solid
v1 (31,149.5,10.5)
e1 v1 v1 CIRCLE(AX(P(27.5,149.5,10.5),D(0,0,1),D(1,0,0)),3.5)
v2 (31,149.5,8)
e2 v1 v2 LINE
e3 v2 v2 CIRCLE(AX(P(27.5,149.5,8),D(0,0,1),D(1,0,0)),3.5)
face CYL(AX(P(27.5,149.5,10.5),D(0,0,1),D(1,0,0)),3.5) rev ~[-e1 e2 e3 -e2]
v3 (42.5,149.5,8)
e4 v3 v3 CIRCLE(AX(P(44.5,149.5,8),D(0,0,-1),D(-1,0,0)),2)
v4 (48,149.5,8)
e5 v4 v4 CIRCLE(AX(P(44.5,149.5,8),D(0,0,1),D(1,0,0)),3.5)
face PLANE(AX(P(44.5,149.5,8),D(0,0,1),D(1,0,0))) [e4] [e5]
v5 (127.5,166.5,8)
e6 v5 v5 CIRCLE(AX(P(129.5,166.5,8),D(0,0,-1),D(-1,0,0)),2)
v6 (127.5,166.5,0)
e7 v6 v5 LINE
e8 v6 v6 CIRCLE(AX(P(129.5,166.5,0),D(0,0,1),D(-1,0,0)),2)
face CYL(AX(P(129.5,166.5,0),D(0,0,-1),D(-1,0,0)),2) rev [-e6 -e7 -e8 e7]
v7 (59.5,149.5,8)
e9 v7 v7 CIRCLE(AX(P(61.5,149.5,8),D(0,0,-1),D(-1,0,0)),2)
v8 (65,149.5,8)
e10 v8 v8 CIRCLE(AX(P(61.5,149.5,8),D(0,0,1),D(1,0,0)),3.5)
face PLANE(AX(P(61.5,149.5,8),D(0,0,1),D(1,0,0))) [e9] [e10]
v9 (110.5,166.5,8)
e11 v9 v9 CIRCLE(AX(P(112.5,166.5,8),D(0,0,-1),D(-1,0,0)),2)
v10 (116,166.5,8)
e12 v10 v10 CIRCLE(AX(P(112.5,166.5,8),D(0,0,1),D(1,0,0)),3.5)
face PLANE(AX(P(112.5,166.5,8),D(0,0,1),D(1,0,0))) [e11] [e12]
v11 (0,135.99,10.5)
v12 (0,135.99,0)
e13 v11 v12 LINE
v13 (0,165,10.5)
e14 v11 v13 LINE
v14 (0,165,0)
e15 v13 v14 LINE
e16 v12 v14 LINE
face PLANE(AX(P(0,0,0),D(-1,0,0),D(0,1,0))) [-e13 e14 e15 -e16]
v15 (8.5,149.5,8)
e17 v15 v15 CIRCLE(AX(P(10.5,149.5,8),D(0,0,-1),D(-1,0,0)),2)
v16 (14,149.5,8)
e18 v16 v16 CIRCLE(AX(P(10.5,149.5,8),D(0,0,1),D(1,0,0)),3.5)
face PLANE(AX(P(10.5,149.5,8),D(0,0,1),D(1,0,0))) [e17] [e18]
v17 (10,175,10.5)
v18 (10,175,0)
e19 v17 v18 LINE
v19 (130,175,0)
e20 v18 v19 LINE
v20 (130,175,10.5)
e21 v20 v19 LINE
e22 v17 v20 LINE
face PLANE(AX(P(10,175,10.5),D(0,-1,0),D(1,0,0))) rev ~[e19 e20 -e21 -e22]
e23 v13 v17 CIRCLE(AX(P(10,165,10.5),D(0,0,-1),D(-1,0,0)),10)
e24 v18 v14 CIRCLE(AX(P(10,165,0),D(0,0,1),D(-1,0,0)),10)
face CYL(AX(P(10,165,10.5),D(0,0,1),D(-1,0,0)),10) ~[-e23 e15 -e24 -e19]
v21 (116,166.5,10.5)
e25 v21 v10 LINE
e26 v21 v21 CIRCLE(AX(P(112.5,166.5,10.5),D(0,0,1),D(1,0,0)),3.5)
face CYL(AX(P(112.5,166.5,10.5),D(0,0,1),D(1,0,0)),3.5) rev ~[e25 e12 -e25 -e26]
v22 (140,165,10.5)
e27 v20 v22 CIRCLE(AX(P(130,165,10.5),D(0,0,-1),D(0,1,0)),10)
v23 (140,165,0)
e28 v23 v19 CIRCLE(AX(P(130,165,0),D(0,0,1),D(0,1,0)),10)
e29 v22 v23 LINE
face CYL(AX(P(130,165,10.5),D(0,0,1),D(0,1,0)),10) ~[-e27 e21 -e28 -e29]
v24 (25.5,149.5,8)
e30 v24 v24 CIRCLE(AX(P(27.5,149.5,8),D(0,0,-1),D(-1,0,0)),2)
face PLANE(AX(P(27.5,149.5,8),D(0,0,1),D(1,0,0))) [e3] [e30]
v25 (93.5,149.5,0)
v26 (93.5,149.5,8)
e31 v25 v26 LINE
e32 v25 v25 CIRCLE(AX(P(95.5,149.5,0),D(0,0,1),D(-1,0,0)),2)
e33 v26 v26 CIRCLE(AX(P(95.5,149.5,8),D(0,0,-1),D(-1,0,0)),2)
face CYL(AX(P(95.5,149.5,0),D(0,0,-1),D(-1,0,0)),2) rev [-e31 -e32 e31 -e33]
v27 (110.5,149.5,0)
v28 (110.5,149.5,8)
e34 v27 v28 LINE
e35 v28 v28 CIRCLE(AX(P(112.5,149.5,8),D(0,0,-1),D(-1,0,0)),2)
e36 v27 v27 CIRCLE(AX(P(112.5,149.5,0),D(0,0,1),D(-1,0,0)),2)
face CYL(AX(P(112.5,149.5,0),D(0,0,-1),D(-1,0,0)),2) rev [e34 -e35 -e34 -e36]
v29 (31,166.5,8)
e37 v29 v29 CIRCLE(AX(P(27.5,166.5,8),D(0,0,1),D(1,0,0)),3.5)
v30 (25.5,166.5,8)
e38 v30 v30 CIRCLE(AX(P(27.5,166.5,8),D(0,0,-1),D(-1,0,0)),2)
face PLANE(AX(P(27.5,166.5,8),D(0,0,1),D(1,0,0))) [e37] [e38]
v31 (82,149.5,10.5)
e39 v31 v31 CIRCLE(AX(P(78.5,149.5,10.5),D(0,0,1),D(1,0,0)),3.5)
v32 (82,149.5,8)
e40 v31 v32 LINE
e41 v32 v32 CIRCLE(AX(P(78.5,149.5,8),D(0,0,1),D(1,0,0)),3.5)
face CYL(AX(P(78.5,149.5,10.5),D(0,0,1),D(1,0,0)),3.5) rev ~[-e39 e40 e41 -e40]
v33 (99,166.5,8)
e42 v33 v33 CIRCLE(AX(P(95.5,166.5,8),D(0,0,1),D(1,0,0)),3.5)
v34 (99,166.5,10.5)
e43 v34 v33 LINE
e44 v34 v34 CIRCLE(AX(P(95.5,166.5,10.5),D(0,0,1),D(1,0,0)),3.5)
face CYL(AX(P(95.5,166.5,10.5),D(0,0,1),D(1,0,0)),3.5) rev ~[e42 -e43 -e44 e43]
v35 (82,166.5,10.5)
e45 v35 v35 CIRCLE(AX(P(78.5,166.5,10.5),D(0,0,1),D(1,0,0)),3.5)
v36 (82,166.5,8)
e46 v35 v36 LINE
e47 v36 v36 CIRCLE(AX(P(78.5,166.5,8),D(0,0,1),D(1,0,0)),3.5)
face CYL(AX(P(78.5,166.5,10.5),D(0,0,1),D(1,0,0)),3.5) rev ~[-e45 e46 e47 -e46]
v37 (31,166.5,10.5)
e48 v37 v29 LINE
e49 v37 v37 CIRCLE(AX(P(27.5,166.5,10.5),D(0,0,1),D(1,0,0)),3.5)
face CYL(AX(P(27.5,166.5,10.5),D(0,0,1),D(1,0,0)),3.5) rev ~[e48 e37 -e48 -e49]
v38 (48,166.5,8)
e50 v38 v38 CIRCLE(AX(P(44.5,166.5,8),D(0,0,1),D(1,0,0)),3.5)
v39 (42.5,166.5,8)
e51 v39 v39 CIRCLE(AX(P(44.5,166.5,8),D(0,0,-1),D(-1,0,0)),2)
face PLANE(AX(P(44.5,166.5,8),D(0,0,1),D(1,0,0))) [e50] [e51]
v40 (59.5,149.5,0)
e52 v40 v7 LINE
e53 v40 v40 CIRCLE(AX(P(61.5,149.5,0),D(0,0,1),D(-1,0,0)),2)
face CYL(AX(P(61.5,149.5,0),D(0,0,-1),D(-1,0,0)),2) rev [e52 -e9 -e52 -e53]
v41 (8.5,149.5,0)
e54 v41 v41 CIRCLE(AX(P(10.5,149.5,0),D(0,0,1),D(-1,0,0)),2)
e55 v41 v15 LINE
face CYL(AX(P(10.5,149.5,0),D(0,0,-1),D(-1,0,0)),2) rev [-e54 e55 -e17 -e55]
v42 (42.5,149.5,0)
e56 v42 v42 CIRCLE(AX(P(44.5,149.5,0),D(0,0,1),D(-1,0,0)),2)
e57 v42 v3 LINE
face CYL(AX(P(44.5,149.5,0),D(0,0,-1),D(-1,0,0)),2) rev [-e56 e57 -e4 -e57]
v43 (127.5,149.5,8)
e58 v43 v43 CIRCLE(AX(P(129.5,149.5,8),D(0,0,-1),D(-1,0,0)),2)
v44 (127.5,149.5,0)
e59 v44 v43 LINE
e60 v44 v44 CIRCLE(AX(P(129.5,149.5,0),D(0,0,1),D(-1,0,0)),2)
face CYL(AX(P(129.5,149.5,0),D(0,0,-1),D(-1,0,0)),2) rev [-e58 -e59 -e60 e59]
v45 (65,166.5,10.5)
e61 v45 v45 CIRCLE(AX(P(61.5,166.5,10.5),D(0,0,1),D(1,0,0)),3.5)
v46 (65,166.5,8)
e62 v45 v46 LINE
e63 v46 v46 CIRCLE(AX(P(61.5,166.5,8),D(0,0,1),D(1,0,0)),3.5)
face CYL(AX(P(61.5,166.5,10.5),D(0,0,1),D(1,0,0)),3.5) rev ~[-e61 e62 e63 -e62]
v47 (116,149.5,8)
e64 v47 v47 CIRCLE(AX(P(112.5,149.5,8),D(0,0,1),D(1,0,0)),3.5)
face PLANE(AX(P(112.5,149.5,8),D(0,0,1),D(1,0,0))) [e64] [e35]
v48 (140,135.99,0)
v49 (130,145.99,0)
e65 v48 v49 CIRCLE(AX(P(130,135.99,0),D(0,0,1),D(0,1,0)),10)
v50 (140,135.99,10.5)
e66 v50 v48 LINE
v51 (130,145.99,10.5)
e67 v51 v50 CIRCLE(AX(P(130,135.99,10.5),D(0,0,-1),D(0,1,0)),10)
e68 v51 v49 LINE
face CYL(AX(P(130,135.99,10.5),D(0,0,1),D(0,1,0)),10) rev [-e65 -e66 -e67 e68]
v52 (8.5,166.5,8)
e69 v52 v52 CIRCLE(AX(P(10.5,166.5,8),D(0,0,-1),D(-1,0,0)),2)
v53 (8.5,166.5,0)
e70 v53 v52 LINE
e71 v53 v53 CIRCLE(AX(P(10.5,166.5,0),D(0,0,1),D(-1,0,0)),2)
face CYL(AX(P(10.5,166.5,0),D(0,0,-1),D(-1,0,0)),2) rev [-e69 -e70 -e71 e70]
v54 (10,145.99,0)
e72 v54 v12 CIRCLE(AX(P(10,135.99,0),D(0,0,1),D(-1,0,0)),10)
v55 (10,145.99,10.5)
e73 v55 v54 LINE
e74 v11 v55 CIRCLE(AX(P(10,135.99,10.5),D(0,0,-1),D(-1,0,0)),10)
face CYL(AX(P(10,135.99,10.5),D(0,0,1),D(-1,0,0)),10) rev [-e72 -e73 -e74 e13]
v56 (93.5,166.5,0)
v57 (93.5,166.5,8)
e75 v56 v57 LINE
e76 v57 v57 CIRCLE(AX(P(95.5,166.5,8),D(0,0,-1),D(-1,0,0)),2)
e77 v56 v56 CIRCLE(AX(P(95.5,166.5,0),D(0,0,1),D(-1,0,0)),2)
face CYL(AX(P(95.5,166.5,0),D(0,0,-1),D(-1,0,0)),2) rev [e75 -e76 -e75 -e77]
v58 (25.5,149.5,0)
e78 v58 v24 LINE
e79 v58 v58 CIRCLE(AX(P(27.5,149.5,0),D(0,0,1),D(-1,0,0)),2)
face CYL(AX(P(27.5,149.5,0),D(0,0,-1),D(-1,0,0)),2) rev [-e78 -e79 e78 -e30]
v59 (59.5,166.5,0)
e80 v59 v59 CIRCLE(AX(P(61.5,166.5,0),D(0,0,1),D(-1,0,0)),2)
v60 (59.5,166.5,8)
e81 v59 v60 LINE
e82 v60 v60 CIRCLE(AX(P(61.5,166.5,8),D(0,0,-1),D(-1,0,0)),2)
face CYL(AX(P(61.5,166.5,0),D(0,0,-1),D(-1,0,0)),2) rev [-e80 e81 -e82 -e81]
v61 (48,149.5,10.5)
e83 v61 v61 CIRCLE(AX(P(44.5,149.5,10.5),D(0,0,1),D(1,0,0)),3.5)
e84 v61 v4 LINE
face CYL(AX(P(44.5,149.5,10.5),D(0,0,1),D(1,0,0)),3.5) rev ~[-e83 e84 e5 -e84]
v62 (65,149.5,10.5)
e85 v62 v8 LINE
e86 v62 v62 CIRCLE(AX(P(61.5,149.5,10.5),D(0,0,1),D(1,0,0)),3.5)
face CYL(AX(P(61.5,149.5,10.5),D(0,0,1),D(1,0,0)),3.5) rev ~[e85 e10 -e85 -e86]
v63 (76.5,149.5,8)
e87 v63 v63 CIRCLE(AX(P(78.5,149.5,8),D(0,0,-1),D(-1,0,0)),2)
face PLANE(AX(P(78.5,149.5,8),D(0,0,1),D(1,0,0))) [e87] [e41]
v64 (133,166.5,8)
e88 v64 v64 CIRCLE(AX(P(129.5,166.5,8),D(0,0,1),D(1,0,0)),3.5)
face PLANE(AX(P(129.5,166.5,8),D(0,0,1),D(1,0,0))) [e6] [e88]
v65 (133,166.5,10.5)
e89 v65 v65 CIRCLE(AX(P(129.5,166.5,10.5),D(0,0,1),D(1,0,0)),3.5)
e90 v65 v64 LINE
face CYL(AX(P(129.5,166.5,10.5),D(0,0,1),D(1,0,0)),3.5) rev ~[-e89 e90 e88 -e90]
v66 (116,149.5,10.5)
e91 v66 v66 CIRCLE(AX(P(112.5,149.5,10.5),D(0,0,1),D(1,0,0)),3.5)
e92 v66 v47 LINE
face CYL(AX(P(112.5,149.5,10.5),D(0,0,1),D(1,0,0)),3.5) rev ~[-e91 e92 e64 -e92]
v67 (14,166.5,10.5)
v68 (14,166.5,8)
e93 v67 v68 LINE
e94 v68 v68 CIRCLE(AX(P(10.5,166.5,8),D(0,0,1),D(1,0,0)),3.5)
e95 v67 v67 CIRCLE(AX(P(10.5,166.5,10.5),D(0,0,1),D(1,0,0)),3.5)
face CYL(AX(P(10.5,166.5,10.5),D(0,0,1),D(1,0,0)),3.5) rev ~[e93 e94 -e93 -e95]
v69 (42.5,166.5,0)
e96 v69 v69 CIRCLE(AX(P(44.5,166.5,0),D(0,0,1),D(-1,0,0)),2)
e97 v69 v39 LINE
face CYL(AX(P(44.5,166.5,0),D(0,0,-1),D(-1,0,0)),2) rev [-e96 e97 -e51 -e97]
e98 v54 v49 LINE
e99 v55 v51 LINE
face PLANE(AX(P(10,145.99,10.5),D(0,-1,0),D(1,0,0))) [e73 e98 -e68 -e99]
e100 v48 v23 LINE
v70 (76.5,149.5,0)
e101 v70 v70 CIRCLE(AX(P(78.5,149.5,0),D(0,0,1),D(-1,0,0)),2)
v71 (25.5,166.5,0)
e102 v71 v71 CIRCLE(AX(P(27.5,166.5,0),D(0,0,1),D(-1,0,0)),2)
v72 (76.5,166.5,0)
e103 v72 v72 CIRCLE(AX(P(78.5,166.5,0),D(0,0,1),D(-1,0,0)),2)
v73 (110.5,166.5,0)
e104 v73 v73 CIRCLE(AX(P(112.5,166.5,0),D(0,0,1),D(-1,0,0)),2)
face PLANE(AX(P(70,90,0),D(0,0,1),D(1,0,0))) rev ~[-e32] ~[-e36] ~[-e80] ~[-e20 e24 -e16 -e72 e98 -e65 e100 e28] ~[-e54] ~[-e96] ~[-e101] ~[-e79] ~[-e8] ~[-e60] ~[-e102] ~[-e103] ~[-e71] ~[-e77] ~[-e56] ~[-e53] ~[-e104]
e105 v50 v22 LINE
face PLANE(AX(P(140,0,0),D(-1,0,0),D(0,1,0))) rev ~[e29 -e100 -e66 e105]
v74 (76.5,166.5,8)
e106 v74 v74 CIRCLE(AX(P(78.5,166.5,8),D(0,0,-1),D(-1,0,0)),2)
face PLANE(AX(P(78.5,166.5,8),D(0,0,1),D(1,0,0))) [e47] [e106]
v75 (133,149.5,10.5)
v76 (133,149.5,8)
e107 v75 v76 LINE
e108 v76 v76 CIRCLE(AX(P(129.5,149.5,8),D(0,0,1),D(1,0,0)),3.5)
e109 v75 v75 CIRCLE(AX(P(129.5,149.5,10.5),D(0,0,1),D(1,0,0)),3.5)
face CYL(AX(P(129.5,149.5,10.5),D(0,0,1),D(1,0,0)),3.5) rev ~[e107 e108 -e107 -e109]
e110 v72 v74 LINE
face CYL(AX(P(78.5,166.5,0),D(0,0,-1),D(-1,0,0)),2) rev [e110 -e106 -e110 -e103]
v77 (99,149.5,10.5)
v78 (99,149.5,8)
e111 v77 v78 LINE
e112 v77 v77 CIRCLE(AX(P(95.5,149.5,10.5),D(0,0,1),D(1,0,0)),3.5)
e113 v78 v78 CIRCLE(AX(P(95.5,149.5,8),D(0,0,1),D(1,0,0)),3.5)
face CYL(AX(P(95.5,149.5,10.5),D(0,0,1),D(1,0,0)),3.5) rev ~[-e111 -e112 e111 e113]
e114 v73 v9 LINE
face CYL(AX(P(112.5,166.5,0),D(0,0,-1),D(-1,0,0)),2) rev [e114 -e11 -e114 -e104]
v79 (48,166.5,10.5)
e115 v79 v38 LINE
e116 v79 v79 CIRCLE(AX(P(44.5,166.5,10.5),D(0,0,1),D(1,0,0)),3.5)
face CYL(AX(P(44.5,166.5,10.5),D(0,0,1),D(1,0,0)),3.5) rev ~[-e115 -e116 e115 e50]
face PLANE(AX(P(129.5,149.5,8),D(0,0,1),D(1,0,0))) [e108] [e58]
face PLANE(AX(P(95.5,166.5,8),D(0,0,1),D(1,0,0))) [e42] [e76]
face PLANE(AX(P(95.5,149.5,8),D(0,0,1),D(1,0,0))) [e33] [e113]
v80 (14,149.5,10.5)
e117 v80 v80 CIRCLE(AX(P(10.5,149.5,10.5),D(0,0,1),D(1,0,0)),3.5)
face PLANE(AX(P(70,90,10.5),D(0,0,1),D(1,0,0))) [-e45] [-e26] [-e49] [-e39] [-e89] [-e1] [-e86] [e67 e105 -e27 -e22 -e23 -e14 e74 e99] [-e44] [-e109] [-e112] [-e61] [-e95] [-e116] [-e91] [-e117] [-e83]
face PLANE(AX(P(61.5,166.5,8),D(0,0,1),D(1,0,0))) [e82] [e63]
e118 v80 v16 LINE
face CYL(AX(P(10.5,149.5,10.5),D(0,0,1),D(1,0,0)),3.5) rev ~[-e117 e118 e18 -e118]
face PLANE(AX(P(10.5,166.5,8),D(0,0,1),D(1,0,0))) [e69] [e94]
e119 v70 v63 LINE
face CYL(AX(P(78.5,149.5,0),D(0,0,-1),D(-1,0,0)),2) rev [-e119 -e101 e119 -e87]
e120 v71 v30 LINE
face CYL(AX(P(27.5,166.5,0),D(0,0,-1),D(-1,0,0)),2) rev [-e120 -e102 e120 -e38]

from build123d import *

# Parameters (mm, degrees)
SKIZZE1_W                        = 140
SKIZZE1_H                        = 180
AUFSATZ_LINEAR_AUSTRAGEN1_DEPTH  = 10.5
SKIZZE2_R                        = 3.5
SCHNITT_LINEAR_AUSTRAGEN3_DEPTH  = 2.5
SKIZZE3_R                        = 2
SCHNITT_LINEAR_AUSTRAGEN5_DEPTH  = 229.276696139
VERRUNDUNG1_R                    = 10
SCHNITT_LINEAR_AUSTRAGEN17_DEPTH = 229.276696139


with BuildPart() as part:
    # Skizze1 → Aufsatz-Linear austragen1 (new body)
    with BuildSketch(Plane.XY):
        with Locations((70, 90)):
            Rectangle(SKIZZE1_W, SKIZZE1_H)
    extrude(amount=AUFSATZ_LINEAR_AUSTRAGEN1_DEPTH)

    # Skizze2 → Schnitt-Linear austragen3 (cut)
    with BuildSketch(Plane.XY.offset(10.5)):
        with Locations((10.5, 183.5)):
            Circle(SKIZZE2_R)
        with Locations((27.5, 183.5)):
            Circle(SKIZZE2_R)
        with Locations((44.5, 183.5)):
            Circle(SKIZZE2_R)
        with Locations((61.5, 183.5)):
            Circle(SKIZZE2_R)
        with Locations((78.5, 183.5)):
            Circle(SKIZZE2_R)
        with Locations((95.5, 183.5)):
            Circle(SKIZZE2_R)
        with Locations((112.5, 183.5)):
            Circle(SKIZZE2_R)
        with Locations((129.5, 183.5)):
            Circle(SKIZZE2_R)
        with Locations((27.5, 166.5)):
            Circle(SKIZZE2_R)
        with Locations((44.5, 166.5)):
            Circle(SKIZZE2_R)
        with Locations((61.5, 166.5)):
            Circle(SKIZZE2_R)
        with Locations((78.5, 166.5)):
            Circle(SKIZZE2_R)
        with Locations((95.5, 166.5)):
            Circle(SKIZZE2_R)
        with Locations((112.5, 166.5)):
            Circle(SKIZZE2_R)
        with Locations((129.5, 166.5)):
            Circle(SKIZZE2_R)
        with Locations((27.5, 149.5)):
            Circle(SKIZZE2_R)
        with Locations((44.5, 149.5)):
            Circle(SKIZZE2_R)
        with Locations((61.5, 149.5)):
            Circle(SKIZZE2_R)
        with Locations((78.5, 149.5)):
            Circle(SKIZZE2_R)
        with Locations((95.5, 149.5)):
            Circle(SKIZZE2_R)
        with Locations((112.5, 149.5)):
            Circle(SKIZZE2_R)
        with Locations((129.5, 149.5)):
            Circle(SKIZZE2_R)
        with Locations((27.5, 132.5)):
            Circle(SKIZZE2_R)
        with Locations((44.5, 132.5)):
            Circle(SKIZZE2_R)
        with Locations((61.5, 132.5)):
            Circle(SKIZZE2_R)
        with Locations((78.5, 132.5)):
            Circle(SKIZZE2_R)
        with Locations((95.5, 132.5)):
            Circle(SKIZZE2_R)
        with Locations((112.5, 132.5)):
            Circle(SKIZZE2_R)
        with Locations((129.5, 132.5)):
            Circle(SKIZZE2_R)
        with Locations((27.5, 115.5)):
            Circle(SKIZZE2_R)
        with Locations((44.5, 115.5)):
            Circle(SKIZZE2_R)
        with Locations((61.5, 115.5)):
            Circle(SKIZZE2_R)
        with Locations((78.5, 115.5)):
            Circle(SKIZZE2_R)
        with Locations((95.5, 115.5)):
            Circle(SKIZZE2_R)
        with Locations((112.5, 115.5)):
            Circle(SKIZZE2_R)
        with Locations((129.5, 115.5)):
            Circle(SKIZZE2_R)
        with Locations((27.5, 98.5)):
            Circle(SKIZZE2_R)
        with Locations((44.5, 98.5)):
            Circle(SKIZZE2_R)
        with Locations((61.5, 98.5)):
            Circle(SKIZZE2_R)
        with Locations((78.5, 98.5)):
            Circle(SKIZZE2_R)
        with Locations((95.5, 98.5)):
            Circle(SKIZZE2_R)
        with Locations((112.5, 98.5)):
            Circle(SKIZZE2_R)
        with Locations((129.5, 98.5)):
            Circle(SKIZZE2_R)
        with Locations((27.5, 81.5)):
            Circle(SKIZZE2_R)
        with Locations((44.5, 81.5)):
            Circle(SKIZZE2_R)
        with Locations((61.5, 81.5)):
            Circle(SKIZZE2_R)
        with Locations((78.5, 81.5)):
            Circle(SKIZZE2_R)
        with Locations((95.5, 81.5)):
            Circle(SKIZZE2_R)
        with Locations((112.5, 81.5)):
            Circle(SKIZZE2_R)
        with Locations((129.5, 81.5)):
            Circle(SKIZZE2_R)
        with Locations((27.5, 64.5)):
            Circle(SKIZZE2_R)
        with Locations((44.5, 64.5)):
            Circle(SKIZZE2_R)
        with Locations((61.5, 64.5)):
            Circle(SKIZZE2_R)
        with Locations((78.5, 64.5)):
            Circle(SKIZZE2_R)
        with Locations((95.5, 64.5)):
            Circle(SKIZZE2_R)
        with Locations((112.5, 64.5)):
            Circle(SKIZZE2_R)
        with Locations((129.5, 64.5)):
            Circle(SKIZZE2_R)
        with Locations((27.5, 47.5)):
            Circle(SKIZZE2_R)
        with Locations((44.5, 47.5)):
            Circle(SKIZZE2_R)
        with Locations((61.5, 47.5)):
            Circle(SKIZZE2_R)
        with Locations((78.5, 47.5)):
            Circle(SKIZZE2_R)
        with Locations((95.5, 47.5)):
            Circle(SKIZZE2_R)
        with Locations((112.5, 47.5)):
            Circle(SKIZZE2_R)
        with Locations((129.5, 47.5)):
            Circle(SKIZZE2_R)
        with Locations((27.5, 30.5)):
            Circle(SKIZZE2_R)
        with Locations((44.5, 30.5)):
            Circle(SKIZZE2_R)
        with Locations((61.5, 30.5)):
            Circle(SKIZZE2_R)
        with Locations((78.5, 30.5)):
            Circle(SKIZZE2_R)
        with Locations((95.5, 30.5)):
            Circle(SKIZZE2_R)
        with Locations((112.5, 30.5)):
            Circle(SKIZZE2_R)
        with Locations((129.5, 30.5)):
            Circle(SKIZZE2_R)
        with Locations((27.5, 13.5)):
            Circle(SKIZZE2_R)
        with Locations((44.5, 13.5)):
            Circle(SKIZZE2_R)
        with Locations((61.5, 13.5)):
            Circle(SKIZZE2_R)
        with Locations((78.5, 13.5)):
            Circle(SKIZZE2_R)
        with Locations((95.5, 13.5)):
            Circle(SKIZZE2_R)
        with Locations((112.5, 13.5)):
            Circle(SKIZZE2_R)
        with Locations((129.5, 13.5)):
            Circle(SKIZZE2_R)
        with Locations((10.5, 166.5)):
            Circle(SKIZZE2_R)
        with Locations((10.5, 149.5)):
            Circle(SKIZZE2_R)
        with Locations((10.5, 132.5)):
            Circle(SKIZZE2_R)
        with Locations((10.5, 115.5)):
            Circle(SKIZZE2_R)
        with Locations((10.5, 98.5)):
            Circle(SKIZZE2_R)
        with Locations((10.5, 81.5)):
            Circle(SKIZZE2_R)
        with Locations((10.5, 64.5)):
            Circle(SKIZZE2_R)
        with Locations((10.5, 47.5)):
            Circle(SKIZZE2_R)
        with Locations((10.5, 30.5)):
            Circle(SKIZZE2_R)
        with Locations((10.5, 13.5)):
            Circle(SKIZZE2_R)
    extrude(amount=-SCHNITT_LINEAR_AUSTRAGEN3_DEPTH, mode=Mode.SUBTRACT)

    # Skizze3 → Schnitt-Linear austragen5 (cut, through all)
    with BuildSketch(Plane.XY):
        with Locations((10.5, 183.5)):
            Circle(SKIZZE3_R)
        with Locations((27.5, 183.5)):
            Circle(SKIZZE3_R)
        with Locations((44.5, 183.5)):
            Circle(SKIZZE3_R)
        with Locations((61.5, 183.5)):
            Circle(SKIZZE3_R)
        with Locations((78.5, 183.5)):
            Circle(SKIZZE3_R)
        with Locations((95.5, 183.5)):
            Circle(SKIZZE3_R)
        with Locations((112.5, 183.5)):
            Circle(SKIZZE3_R)
        with Locations((129.5, 183.5)):
            Circle(SKIZZE3_R)
        with Locations(Location((27.5, 166.5, 0), (0, 0, 180))):
            Circle(SKIZZE3_R)
        with Locations(Location((44.5, 166.5, 0), (0, 0, 180))):
            Circle(SKIZZE3_R)
        with Locations(Location((61.5, 166.5, 0), (0, 0, 180))):
            Circle(SKIZZE3_R)
        with Locations(Location((78.5, 166.5, 0), (0, 0, 180))):
            Circle(SKIZZE3_R)
        with Locations(Location((95.5, 166.5, 0), (0, 0, 180))):
            Circle(SKIZZE3_R)
        with Locations(Location((112.5, 166.5, 0), (0, 0, 180))):
            Circle(SKIZZE3_R)
        with Locations(Location((129.5, 166.5, 0), (0, 0, 180))):
            Circle(SKIZZE3_R)
        with Locations(Location((27.5, 149.5, 0), (0, 0, 180))):
            Circle(SKIZZE3_R)
        with Locations(Location((44.5, 149.5, 0), (0, 0, 180))):
            Circle(SKIZZE3_R)
        with Locations(Location((61.5, 149.5, 0), (0, 0, 180))):
            Circle(SKIZZE3_R)
        with Locations(Location((78.5, 149.5, 0), (0, 0, 180))):
            Circle(SKIZZE3_R)
        with Locations(Location((95.5, 149.5, 0), (0, 0, 180))):
            Circle(SKIZZE3_R)
        with Locations(Location((112.5, 149.5, 0), (0, 0, 180))):
            Circle(SKIZZE3_R)
        with Locations(Location((129.5, 149.5, 0), (0, 0, 180))):
            Circle(SKIZZE3_R)
        with Locations(Location((27.5, 132.5, 0), (0, 0, 180))):
            Circle(SKIZZE3_R)
        with Locations(Location((44.5, 132.5, 0), (0, 0, 180))):
            Circle(SKIZZE3_R)
        with Locations(Location((61.5, 132.5, 0), (0, 0, 180))):
            Circle(SKIZZE3_R)
        with Locations(Location((78.5, 132.5, 0), (0, 0, 180))):
            Circle(SKIZZE3_R)
        with Locations(Location((95.5, 132.5, 0), (0, 0, 180))):
            Circle(SKIZZE3_R)
        with Locations(Location((112.5, 132.5, 0), (0, 0, 180))):
            Circle(SKIZZE3_R)
        with Locations(Location((129.5, 132.5, 0), (0, 0, 180))):
            Circle(SKIZZE3_R)
        with Locations(Location((27.5, 115.5, 0), (0, 0, 180))):
            Circle(SKIZZE3_R)
        with Locations(Location((44.5, 115.5, 0), (0, 0, 180))):
            Circle(SKIZZE3_R)
        with Locations(Location((61.5, 115.5, 0), (0, 0, 180))):
            Circle(SKIZZE3_R)
        with Locations(Location((78.5, 115.5, 0), (0, 0, 180))):
            Circle(SKIZZE3_R)
        with Locations(Location((95.5, 115.5, 0), (0, 0, 180))):
            Circle(SKIZZE3_R)
        with Locations(Location((112.5, 115.5, 0), (0, 0, 180))):
            Circle(SKIZZE3_R)
        with Locations(Location((129.5, 115.5, 0), (0, 0, 180))):
            Circle(SKIZZE3_R)
        with Locations(Location((27.5, 98.5, 0), (0, 0, 180))):
            Circle(SKIZZE3_R)
        with Locations(Location((44.5, 98.5, 0), (0, 0, 180))):
            Circle(SKIZZE3_R)
        with Locations(Location((61.5, 98.5, 0), (0, 0, 180))):
            Circle(SKIZZE3_R)
        with Locations(Location((78.5, 98.5, 0), (0, 0, 180))):
            Circle(SKIZZE3_R)
        with Locations(Location((95.5, 98.5, 0), (0, 0, 180))):
            Circle(SKIZZE3_R)
        with Locations(Location((112.5, 98.5, 0), (0, 0, 180))):
            Circle(SKIZZE3_R)
        with Locations(Location((129.5, 98.5, 0), (0, 0, 180))):
            Circle(SKIZZE3_R)
        with Locations(Location((27.5, 81.5, 0), (0, 0, 180))):
            Circle(SKIZZE3_R)
        with Locations(Location((44.5, 81.5, 0), (0, 0, 180))):
            Circle(SKIZZE3_R)
        with Locations(Location((61.5, 81.5, 0), (0, 0, 180))):
            Circle(SKIZZE3_R)
        with Locations(Location((78.5, 81.5, 0), (0, 0, 180))):
            Circle(SKIZZE3_R)
        with Locations(Location((95.5, 81.5, 0), (0, 0, 180))):
            Circle(SKIZZE3_R)
        with Locations(Location((112.5, 81.5, 0), (0, 0, 180))):
            Circle(SKIZZE3_R)
        with Locations(Location((129.5, 81.5, 0), (0, 0, 180))):
            Circle(SKIZZE3_R)
        with Locations(Location((27.5, 64.5, 0), (0, 0, 180))):
            Circle(SKIZZE3_R)
        with Locations(Location((44.5, 64.5, 0), (0, 0, 180))):
            Circle(SKIZZE3_R)
        with Locations(Location((61.5, 64.5, 0), (0, 0, 180))):
            Circle(SKIZZE3_R)
        with Locations(Location((78.5, 64.5, 0), (0, 0, 180))):
            Circle(SKIZZE3_R)
        with Locations(Location((95.5, 64.5, 0), (0, 0, 180))):
            Circle(SKIZZE3_R)
        with Locations(Location((112.5, 64.5, 0), (0, 0, 180))):
            Circle(SKIZZE3_R)
        with Locations(Location((129.5, 64.5, 0), (0, 0, 180))):
            Circle(SKIZZE3_R)
        with Locations(Location((27.5, 47.5, 0), (0, 0, 180))):
            Circle(SKIZZE3_R)
        with Locations(Location((44.5, 47.5, 0), (0, 0, 180))):
            Circle(SKIZZE3_R)
        with Locations(Location((61.5, 47.5, 0), (0, 0, 180))):
            Circle(SKIZZE3_R)
        with Locations(Location((78.5, 47.5, 0), (0, 0, 180))):
            Circle(SKIZZE3_R)
        with Locations(Location((95.5, 47.5, 0), (0, 0, 180))):
            Circle(SKIZZE3_R)
        with Locations(Location((112.5, 47.5, 0), (0, 0, 180))):
            Circle(SKIZZE3_R)
        with Locations(Location((129.5, 47.5, 0), (0, 0, 180))):
            Circle(SKIZZE3_R)
        with Locations(Location((27.5, 30.5, 0), (0, 0, 180))):
            Circle(SKIZZE3_R)
        with Locations(Location((44.5, 30.5, 0), (0, 0, 180))):
            Circle(SKIZZE3_R)
        with Locations(Location((61.5, 30.5, 0), (0, 0, 180))):
            Circle(SKIZZE3_R)
        with Locations(Location((78.5, 30.5, 0), (0, 0, 180))):
            Circle(SKIZZE3_R)
        with Locations(Location((95.5, 30.5, 0), (0, 0, 180))):
            Circle(SKIZZE3_R)
        with Locations(Location((112.5, 30.5, 0), (0, 0, 180))):
            Circle(SKIZZE3_R)
        with Locations(Location((129.5, 30.5, 0), (0, 0, 180))):
            Circle(SKIZZE3_R)
        with Locations(Location((27.5, 13.5, 0), (0, 0, 180))):
            Circle(SKIZZE3_R)
        with Locations(Location((44.5, 13.5, 0), (0, 0, 180))):
            Circle(SKIZZE3_R)
        with Locations(Location((61.5, 13.5, 0), (0, 0, 180))):
            Circle(SKIZZE3_R)
        with Locations(Location((78.5, 13.5, 0), (0, 0, 180))):
            Circle(SKIZZE3_R)
        with Locations(Location((95.5, 13.5, 0), (0, 0, 180))):
            Circle(SKIZZE3_R)
        with Locations(Location((112.5, 13.5, 0), (0, 0, 180))):
            Circle(SKIZZE3_R)
        with Locations(Location((129.5, 13.5, 0), (0, 0, 180))):
            Circle(SKIZZE3_R)
        with Locations((27.5, -3.5)):
            Circle(SKIZZE3_R)
        with Locations((44.5, -3.5)):
            Circle(SKIZZE3_R)
        with Locations((61.5, -3.5)):
            Circle(SKIZZE3_R)
        with Locations((78.5, -3.5)):
            Circle(SKIZZE3_R)
        with Locations((95.5, -3.5)):
            Circle(SKIZZE3_R)
        with Locations((112.5, -3.5)):
            Circle(SKIZZE3_R)
        with Locations((129.5, -3.5)):
            Circle(SKIZZE3_R)
        with Locations(Location((10.5, 166.5, 0), (0, 0, 180))):
            Circle(SKIZZE3_R)
        with Locations(Location((10.5, 149.5, 0), (0, 0, 180))):
            Circle(SKIZZE3_R)
        with Locations(Location((10.5, 132.5, 0), (0, 0, 180))):
            Circle(SKIZZE3_R)
        with Locations(Location((10.5, 115.5, 0), (0, 0, 180))):
            Circle(SKIZZE3_R)
        with Locations(Location((10.5, 98.5, 0), (0, 0, 180))):
            Circle(SKIZZE3_R)
        with Locations(Location((10.5, 81.5, 0), (0, 0, 180))):
            Circle(SKIZZE3_R)
        with Locations(Location((10.5, 64.5, 0), (0, 0, 180))):
            Circle(SKIZZE3_R)
        with Locations(Location((10.5, 47.5, 0), (0, 0, 180))):
            Circle(SKIZZE3_R)
        with Locations(Location((10.5, 30.5, 0), (0, 0, 180))):
            Circle(SKIZZE3_R)
        with Locations(Location((10.5, 13.5, 0), (0, 0, 180))):
            Circle(SKIZZE3_R)
        with Locations((10.5, -3.5)):
            Circle(SKIZZE3_R)
    extrude(amount=SCHNITT_LINEAR_AUSTRAGEN5_DEPTH, mode=Mode.SUBTRACT)

    # Verrundung1
    verrundung1_edges = [part.edges().sort_by_distance(p)[0] for p in [
        (0, 180, 5.25),
        (140, 180, 5.25),
        (140, 0, 5.25),
        (0, 0, 5.25),
    ]]
    fillet(verrundung1_edges, radius=VERRUNDUNG1_R)

    # Skizze7 → Schnitt-Linear austragen17 (cut, through all)
    with BuildSketch(Plane.XY.offset(10.5)):
        with BuildLine():
            Line((10, 145.99), (130, 145.99))
            ThreePointArc((130, 145.99), (137.071067812, 143.061067812), (140, 135.99))
            Line((140, 135.99), (140, -23.696041725))
            Line((140, -23.696041725), (0, -21.145959103))
            Line((0, -21.145959103), (0, 135.99))
            ThreePointArc((0, 135.99), (2.928932188, 143.061067812), (10, 145.99))
        make_face()
        with BuildLine():
            Line((10, 175), (130, 175))
            ThreePointArc((130, 175), (137.071067812, 172.071067812), (140, 165))
            Line((140, 165), (140, 196.015375314))
            Line((140, 196.015375314), (0, 196.015375314))
            Line((0, 196.015375314), (0, 165))
            ThreePointArc((0, 165), (2.928932188, 172.071067812), (10, 175))
        make_face()
    extrude(amount=-SCHNITT_LINEAR_AUSTRAGEN17_DEPTH, mode=Mode.SUBTRACT)


solid = part.part
